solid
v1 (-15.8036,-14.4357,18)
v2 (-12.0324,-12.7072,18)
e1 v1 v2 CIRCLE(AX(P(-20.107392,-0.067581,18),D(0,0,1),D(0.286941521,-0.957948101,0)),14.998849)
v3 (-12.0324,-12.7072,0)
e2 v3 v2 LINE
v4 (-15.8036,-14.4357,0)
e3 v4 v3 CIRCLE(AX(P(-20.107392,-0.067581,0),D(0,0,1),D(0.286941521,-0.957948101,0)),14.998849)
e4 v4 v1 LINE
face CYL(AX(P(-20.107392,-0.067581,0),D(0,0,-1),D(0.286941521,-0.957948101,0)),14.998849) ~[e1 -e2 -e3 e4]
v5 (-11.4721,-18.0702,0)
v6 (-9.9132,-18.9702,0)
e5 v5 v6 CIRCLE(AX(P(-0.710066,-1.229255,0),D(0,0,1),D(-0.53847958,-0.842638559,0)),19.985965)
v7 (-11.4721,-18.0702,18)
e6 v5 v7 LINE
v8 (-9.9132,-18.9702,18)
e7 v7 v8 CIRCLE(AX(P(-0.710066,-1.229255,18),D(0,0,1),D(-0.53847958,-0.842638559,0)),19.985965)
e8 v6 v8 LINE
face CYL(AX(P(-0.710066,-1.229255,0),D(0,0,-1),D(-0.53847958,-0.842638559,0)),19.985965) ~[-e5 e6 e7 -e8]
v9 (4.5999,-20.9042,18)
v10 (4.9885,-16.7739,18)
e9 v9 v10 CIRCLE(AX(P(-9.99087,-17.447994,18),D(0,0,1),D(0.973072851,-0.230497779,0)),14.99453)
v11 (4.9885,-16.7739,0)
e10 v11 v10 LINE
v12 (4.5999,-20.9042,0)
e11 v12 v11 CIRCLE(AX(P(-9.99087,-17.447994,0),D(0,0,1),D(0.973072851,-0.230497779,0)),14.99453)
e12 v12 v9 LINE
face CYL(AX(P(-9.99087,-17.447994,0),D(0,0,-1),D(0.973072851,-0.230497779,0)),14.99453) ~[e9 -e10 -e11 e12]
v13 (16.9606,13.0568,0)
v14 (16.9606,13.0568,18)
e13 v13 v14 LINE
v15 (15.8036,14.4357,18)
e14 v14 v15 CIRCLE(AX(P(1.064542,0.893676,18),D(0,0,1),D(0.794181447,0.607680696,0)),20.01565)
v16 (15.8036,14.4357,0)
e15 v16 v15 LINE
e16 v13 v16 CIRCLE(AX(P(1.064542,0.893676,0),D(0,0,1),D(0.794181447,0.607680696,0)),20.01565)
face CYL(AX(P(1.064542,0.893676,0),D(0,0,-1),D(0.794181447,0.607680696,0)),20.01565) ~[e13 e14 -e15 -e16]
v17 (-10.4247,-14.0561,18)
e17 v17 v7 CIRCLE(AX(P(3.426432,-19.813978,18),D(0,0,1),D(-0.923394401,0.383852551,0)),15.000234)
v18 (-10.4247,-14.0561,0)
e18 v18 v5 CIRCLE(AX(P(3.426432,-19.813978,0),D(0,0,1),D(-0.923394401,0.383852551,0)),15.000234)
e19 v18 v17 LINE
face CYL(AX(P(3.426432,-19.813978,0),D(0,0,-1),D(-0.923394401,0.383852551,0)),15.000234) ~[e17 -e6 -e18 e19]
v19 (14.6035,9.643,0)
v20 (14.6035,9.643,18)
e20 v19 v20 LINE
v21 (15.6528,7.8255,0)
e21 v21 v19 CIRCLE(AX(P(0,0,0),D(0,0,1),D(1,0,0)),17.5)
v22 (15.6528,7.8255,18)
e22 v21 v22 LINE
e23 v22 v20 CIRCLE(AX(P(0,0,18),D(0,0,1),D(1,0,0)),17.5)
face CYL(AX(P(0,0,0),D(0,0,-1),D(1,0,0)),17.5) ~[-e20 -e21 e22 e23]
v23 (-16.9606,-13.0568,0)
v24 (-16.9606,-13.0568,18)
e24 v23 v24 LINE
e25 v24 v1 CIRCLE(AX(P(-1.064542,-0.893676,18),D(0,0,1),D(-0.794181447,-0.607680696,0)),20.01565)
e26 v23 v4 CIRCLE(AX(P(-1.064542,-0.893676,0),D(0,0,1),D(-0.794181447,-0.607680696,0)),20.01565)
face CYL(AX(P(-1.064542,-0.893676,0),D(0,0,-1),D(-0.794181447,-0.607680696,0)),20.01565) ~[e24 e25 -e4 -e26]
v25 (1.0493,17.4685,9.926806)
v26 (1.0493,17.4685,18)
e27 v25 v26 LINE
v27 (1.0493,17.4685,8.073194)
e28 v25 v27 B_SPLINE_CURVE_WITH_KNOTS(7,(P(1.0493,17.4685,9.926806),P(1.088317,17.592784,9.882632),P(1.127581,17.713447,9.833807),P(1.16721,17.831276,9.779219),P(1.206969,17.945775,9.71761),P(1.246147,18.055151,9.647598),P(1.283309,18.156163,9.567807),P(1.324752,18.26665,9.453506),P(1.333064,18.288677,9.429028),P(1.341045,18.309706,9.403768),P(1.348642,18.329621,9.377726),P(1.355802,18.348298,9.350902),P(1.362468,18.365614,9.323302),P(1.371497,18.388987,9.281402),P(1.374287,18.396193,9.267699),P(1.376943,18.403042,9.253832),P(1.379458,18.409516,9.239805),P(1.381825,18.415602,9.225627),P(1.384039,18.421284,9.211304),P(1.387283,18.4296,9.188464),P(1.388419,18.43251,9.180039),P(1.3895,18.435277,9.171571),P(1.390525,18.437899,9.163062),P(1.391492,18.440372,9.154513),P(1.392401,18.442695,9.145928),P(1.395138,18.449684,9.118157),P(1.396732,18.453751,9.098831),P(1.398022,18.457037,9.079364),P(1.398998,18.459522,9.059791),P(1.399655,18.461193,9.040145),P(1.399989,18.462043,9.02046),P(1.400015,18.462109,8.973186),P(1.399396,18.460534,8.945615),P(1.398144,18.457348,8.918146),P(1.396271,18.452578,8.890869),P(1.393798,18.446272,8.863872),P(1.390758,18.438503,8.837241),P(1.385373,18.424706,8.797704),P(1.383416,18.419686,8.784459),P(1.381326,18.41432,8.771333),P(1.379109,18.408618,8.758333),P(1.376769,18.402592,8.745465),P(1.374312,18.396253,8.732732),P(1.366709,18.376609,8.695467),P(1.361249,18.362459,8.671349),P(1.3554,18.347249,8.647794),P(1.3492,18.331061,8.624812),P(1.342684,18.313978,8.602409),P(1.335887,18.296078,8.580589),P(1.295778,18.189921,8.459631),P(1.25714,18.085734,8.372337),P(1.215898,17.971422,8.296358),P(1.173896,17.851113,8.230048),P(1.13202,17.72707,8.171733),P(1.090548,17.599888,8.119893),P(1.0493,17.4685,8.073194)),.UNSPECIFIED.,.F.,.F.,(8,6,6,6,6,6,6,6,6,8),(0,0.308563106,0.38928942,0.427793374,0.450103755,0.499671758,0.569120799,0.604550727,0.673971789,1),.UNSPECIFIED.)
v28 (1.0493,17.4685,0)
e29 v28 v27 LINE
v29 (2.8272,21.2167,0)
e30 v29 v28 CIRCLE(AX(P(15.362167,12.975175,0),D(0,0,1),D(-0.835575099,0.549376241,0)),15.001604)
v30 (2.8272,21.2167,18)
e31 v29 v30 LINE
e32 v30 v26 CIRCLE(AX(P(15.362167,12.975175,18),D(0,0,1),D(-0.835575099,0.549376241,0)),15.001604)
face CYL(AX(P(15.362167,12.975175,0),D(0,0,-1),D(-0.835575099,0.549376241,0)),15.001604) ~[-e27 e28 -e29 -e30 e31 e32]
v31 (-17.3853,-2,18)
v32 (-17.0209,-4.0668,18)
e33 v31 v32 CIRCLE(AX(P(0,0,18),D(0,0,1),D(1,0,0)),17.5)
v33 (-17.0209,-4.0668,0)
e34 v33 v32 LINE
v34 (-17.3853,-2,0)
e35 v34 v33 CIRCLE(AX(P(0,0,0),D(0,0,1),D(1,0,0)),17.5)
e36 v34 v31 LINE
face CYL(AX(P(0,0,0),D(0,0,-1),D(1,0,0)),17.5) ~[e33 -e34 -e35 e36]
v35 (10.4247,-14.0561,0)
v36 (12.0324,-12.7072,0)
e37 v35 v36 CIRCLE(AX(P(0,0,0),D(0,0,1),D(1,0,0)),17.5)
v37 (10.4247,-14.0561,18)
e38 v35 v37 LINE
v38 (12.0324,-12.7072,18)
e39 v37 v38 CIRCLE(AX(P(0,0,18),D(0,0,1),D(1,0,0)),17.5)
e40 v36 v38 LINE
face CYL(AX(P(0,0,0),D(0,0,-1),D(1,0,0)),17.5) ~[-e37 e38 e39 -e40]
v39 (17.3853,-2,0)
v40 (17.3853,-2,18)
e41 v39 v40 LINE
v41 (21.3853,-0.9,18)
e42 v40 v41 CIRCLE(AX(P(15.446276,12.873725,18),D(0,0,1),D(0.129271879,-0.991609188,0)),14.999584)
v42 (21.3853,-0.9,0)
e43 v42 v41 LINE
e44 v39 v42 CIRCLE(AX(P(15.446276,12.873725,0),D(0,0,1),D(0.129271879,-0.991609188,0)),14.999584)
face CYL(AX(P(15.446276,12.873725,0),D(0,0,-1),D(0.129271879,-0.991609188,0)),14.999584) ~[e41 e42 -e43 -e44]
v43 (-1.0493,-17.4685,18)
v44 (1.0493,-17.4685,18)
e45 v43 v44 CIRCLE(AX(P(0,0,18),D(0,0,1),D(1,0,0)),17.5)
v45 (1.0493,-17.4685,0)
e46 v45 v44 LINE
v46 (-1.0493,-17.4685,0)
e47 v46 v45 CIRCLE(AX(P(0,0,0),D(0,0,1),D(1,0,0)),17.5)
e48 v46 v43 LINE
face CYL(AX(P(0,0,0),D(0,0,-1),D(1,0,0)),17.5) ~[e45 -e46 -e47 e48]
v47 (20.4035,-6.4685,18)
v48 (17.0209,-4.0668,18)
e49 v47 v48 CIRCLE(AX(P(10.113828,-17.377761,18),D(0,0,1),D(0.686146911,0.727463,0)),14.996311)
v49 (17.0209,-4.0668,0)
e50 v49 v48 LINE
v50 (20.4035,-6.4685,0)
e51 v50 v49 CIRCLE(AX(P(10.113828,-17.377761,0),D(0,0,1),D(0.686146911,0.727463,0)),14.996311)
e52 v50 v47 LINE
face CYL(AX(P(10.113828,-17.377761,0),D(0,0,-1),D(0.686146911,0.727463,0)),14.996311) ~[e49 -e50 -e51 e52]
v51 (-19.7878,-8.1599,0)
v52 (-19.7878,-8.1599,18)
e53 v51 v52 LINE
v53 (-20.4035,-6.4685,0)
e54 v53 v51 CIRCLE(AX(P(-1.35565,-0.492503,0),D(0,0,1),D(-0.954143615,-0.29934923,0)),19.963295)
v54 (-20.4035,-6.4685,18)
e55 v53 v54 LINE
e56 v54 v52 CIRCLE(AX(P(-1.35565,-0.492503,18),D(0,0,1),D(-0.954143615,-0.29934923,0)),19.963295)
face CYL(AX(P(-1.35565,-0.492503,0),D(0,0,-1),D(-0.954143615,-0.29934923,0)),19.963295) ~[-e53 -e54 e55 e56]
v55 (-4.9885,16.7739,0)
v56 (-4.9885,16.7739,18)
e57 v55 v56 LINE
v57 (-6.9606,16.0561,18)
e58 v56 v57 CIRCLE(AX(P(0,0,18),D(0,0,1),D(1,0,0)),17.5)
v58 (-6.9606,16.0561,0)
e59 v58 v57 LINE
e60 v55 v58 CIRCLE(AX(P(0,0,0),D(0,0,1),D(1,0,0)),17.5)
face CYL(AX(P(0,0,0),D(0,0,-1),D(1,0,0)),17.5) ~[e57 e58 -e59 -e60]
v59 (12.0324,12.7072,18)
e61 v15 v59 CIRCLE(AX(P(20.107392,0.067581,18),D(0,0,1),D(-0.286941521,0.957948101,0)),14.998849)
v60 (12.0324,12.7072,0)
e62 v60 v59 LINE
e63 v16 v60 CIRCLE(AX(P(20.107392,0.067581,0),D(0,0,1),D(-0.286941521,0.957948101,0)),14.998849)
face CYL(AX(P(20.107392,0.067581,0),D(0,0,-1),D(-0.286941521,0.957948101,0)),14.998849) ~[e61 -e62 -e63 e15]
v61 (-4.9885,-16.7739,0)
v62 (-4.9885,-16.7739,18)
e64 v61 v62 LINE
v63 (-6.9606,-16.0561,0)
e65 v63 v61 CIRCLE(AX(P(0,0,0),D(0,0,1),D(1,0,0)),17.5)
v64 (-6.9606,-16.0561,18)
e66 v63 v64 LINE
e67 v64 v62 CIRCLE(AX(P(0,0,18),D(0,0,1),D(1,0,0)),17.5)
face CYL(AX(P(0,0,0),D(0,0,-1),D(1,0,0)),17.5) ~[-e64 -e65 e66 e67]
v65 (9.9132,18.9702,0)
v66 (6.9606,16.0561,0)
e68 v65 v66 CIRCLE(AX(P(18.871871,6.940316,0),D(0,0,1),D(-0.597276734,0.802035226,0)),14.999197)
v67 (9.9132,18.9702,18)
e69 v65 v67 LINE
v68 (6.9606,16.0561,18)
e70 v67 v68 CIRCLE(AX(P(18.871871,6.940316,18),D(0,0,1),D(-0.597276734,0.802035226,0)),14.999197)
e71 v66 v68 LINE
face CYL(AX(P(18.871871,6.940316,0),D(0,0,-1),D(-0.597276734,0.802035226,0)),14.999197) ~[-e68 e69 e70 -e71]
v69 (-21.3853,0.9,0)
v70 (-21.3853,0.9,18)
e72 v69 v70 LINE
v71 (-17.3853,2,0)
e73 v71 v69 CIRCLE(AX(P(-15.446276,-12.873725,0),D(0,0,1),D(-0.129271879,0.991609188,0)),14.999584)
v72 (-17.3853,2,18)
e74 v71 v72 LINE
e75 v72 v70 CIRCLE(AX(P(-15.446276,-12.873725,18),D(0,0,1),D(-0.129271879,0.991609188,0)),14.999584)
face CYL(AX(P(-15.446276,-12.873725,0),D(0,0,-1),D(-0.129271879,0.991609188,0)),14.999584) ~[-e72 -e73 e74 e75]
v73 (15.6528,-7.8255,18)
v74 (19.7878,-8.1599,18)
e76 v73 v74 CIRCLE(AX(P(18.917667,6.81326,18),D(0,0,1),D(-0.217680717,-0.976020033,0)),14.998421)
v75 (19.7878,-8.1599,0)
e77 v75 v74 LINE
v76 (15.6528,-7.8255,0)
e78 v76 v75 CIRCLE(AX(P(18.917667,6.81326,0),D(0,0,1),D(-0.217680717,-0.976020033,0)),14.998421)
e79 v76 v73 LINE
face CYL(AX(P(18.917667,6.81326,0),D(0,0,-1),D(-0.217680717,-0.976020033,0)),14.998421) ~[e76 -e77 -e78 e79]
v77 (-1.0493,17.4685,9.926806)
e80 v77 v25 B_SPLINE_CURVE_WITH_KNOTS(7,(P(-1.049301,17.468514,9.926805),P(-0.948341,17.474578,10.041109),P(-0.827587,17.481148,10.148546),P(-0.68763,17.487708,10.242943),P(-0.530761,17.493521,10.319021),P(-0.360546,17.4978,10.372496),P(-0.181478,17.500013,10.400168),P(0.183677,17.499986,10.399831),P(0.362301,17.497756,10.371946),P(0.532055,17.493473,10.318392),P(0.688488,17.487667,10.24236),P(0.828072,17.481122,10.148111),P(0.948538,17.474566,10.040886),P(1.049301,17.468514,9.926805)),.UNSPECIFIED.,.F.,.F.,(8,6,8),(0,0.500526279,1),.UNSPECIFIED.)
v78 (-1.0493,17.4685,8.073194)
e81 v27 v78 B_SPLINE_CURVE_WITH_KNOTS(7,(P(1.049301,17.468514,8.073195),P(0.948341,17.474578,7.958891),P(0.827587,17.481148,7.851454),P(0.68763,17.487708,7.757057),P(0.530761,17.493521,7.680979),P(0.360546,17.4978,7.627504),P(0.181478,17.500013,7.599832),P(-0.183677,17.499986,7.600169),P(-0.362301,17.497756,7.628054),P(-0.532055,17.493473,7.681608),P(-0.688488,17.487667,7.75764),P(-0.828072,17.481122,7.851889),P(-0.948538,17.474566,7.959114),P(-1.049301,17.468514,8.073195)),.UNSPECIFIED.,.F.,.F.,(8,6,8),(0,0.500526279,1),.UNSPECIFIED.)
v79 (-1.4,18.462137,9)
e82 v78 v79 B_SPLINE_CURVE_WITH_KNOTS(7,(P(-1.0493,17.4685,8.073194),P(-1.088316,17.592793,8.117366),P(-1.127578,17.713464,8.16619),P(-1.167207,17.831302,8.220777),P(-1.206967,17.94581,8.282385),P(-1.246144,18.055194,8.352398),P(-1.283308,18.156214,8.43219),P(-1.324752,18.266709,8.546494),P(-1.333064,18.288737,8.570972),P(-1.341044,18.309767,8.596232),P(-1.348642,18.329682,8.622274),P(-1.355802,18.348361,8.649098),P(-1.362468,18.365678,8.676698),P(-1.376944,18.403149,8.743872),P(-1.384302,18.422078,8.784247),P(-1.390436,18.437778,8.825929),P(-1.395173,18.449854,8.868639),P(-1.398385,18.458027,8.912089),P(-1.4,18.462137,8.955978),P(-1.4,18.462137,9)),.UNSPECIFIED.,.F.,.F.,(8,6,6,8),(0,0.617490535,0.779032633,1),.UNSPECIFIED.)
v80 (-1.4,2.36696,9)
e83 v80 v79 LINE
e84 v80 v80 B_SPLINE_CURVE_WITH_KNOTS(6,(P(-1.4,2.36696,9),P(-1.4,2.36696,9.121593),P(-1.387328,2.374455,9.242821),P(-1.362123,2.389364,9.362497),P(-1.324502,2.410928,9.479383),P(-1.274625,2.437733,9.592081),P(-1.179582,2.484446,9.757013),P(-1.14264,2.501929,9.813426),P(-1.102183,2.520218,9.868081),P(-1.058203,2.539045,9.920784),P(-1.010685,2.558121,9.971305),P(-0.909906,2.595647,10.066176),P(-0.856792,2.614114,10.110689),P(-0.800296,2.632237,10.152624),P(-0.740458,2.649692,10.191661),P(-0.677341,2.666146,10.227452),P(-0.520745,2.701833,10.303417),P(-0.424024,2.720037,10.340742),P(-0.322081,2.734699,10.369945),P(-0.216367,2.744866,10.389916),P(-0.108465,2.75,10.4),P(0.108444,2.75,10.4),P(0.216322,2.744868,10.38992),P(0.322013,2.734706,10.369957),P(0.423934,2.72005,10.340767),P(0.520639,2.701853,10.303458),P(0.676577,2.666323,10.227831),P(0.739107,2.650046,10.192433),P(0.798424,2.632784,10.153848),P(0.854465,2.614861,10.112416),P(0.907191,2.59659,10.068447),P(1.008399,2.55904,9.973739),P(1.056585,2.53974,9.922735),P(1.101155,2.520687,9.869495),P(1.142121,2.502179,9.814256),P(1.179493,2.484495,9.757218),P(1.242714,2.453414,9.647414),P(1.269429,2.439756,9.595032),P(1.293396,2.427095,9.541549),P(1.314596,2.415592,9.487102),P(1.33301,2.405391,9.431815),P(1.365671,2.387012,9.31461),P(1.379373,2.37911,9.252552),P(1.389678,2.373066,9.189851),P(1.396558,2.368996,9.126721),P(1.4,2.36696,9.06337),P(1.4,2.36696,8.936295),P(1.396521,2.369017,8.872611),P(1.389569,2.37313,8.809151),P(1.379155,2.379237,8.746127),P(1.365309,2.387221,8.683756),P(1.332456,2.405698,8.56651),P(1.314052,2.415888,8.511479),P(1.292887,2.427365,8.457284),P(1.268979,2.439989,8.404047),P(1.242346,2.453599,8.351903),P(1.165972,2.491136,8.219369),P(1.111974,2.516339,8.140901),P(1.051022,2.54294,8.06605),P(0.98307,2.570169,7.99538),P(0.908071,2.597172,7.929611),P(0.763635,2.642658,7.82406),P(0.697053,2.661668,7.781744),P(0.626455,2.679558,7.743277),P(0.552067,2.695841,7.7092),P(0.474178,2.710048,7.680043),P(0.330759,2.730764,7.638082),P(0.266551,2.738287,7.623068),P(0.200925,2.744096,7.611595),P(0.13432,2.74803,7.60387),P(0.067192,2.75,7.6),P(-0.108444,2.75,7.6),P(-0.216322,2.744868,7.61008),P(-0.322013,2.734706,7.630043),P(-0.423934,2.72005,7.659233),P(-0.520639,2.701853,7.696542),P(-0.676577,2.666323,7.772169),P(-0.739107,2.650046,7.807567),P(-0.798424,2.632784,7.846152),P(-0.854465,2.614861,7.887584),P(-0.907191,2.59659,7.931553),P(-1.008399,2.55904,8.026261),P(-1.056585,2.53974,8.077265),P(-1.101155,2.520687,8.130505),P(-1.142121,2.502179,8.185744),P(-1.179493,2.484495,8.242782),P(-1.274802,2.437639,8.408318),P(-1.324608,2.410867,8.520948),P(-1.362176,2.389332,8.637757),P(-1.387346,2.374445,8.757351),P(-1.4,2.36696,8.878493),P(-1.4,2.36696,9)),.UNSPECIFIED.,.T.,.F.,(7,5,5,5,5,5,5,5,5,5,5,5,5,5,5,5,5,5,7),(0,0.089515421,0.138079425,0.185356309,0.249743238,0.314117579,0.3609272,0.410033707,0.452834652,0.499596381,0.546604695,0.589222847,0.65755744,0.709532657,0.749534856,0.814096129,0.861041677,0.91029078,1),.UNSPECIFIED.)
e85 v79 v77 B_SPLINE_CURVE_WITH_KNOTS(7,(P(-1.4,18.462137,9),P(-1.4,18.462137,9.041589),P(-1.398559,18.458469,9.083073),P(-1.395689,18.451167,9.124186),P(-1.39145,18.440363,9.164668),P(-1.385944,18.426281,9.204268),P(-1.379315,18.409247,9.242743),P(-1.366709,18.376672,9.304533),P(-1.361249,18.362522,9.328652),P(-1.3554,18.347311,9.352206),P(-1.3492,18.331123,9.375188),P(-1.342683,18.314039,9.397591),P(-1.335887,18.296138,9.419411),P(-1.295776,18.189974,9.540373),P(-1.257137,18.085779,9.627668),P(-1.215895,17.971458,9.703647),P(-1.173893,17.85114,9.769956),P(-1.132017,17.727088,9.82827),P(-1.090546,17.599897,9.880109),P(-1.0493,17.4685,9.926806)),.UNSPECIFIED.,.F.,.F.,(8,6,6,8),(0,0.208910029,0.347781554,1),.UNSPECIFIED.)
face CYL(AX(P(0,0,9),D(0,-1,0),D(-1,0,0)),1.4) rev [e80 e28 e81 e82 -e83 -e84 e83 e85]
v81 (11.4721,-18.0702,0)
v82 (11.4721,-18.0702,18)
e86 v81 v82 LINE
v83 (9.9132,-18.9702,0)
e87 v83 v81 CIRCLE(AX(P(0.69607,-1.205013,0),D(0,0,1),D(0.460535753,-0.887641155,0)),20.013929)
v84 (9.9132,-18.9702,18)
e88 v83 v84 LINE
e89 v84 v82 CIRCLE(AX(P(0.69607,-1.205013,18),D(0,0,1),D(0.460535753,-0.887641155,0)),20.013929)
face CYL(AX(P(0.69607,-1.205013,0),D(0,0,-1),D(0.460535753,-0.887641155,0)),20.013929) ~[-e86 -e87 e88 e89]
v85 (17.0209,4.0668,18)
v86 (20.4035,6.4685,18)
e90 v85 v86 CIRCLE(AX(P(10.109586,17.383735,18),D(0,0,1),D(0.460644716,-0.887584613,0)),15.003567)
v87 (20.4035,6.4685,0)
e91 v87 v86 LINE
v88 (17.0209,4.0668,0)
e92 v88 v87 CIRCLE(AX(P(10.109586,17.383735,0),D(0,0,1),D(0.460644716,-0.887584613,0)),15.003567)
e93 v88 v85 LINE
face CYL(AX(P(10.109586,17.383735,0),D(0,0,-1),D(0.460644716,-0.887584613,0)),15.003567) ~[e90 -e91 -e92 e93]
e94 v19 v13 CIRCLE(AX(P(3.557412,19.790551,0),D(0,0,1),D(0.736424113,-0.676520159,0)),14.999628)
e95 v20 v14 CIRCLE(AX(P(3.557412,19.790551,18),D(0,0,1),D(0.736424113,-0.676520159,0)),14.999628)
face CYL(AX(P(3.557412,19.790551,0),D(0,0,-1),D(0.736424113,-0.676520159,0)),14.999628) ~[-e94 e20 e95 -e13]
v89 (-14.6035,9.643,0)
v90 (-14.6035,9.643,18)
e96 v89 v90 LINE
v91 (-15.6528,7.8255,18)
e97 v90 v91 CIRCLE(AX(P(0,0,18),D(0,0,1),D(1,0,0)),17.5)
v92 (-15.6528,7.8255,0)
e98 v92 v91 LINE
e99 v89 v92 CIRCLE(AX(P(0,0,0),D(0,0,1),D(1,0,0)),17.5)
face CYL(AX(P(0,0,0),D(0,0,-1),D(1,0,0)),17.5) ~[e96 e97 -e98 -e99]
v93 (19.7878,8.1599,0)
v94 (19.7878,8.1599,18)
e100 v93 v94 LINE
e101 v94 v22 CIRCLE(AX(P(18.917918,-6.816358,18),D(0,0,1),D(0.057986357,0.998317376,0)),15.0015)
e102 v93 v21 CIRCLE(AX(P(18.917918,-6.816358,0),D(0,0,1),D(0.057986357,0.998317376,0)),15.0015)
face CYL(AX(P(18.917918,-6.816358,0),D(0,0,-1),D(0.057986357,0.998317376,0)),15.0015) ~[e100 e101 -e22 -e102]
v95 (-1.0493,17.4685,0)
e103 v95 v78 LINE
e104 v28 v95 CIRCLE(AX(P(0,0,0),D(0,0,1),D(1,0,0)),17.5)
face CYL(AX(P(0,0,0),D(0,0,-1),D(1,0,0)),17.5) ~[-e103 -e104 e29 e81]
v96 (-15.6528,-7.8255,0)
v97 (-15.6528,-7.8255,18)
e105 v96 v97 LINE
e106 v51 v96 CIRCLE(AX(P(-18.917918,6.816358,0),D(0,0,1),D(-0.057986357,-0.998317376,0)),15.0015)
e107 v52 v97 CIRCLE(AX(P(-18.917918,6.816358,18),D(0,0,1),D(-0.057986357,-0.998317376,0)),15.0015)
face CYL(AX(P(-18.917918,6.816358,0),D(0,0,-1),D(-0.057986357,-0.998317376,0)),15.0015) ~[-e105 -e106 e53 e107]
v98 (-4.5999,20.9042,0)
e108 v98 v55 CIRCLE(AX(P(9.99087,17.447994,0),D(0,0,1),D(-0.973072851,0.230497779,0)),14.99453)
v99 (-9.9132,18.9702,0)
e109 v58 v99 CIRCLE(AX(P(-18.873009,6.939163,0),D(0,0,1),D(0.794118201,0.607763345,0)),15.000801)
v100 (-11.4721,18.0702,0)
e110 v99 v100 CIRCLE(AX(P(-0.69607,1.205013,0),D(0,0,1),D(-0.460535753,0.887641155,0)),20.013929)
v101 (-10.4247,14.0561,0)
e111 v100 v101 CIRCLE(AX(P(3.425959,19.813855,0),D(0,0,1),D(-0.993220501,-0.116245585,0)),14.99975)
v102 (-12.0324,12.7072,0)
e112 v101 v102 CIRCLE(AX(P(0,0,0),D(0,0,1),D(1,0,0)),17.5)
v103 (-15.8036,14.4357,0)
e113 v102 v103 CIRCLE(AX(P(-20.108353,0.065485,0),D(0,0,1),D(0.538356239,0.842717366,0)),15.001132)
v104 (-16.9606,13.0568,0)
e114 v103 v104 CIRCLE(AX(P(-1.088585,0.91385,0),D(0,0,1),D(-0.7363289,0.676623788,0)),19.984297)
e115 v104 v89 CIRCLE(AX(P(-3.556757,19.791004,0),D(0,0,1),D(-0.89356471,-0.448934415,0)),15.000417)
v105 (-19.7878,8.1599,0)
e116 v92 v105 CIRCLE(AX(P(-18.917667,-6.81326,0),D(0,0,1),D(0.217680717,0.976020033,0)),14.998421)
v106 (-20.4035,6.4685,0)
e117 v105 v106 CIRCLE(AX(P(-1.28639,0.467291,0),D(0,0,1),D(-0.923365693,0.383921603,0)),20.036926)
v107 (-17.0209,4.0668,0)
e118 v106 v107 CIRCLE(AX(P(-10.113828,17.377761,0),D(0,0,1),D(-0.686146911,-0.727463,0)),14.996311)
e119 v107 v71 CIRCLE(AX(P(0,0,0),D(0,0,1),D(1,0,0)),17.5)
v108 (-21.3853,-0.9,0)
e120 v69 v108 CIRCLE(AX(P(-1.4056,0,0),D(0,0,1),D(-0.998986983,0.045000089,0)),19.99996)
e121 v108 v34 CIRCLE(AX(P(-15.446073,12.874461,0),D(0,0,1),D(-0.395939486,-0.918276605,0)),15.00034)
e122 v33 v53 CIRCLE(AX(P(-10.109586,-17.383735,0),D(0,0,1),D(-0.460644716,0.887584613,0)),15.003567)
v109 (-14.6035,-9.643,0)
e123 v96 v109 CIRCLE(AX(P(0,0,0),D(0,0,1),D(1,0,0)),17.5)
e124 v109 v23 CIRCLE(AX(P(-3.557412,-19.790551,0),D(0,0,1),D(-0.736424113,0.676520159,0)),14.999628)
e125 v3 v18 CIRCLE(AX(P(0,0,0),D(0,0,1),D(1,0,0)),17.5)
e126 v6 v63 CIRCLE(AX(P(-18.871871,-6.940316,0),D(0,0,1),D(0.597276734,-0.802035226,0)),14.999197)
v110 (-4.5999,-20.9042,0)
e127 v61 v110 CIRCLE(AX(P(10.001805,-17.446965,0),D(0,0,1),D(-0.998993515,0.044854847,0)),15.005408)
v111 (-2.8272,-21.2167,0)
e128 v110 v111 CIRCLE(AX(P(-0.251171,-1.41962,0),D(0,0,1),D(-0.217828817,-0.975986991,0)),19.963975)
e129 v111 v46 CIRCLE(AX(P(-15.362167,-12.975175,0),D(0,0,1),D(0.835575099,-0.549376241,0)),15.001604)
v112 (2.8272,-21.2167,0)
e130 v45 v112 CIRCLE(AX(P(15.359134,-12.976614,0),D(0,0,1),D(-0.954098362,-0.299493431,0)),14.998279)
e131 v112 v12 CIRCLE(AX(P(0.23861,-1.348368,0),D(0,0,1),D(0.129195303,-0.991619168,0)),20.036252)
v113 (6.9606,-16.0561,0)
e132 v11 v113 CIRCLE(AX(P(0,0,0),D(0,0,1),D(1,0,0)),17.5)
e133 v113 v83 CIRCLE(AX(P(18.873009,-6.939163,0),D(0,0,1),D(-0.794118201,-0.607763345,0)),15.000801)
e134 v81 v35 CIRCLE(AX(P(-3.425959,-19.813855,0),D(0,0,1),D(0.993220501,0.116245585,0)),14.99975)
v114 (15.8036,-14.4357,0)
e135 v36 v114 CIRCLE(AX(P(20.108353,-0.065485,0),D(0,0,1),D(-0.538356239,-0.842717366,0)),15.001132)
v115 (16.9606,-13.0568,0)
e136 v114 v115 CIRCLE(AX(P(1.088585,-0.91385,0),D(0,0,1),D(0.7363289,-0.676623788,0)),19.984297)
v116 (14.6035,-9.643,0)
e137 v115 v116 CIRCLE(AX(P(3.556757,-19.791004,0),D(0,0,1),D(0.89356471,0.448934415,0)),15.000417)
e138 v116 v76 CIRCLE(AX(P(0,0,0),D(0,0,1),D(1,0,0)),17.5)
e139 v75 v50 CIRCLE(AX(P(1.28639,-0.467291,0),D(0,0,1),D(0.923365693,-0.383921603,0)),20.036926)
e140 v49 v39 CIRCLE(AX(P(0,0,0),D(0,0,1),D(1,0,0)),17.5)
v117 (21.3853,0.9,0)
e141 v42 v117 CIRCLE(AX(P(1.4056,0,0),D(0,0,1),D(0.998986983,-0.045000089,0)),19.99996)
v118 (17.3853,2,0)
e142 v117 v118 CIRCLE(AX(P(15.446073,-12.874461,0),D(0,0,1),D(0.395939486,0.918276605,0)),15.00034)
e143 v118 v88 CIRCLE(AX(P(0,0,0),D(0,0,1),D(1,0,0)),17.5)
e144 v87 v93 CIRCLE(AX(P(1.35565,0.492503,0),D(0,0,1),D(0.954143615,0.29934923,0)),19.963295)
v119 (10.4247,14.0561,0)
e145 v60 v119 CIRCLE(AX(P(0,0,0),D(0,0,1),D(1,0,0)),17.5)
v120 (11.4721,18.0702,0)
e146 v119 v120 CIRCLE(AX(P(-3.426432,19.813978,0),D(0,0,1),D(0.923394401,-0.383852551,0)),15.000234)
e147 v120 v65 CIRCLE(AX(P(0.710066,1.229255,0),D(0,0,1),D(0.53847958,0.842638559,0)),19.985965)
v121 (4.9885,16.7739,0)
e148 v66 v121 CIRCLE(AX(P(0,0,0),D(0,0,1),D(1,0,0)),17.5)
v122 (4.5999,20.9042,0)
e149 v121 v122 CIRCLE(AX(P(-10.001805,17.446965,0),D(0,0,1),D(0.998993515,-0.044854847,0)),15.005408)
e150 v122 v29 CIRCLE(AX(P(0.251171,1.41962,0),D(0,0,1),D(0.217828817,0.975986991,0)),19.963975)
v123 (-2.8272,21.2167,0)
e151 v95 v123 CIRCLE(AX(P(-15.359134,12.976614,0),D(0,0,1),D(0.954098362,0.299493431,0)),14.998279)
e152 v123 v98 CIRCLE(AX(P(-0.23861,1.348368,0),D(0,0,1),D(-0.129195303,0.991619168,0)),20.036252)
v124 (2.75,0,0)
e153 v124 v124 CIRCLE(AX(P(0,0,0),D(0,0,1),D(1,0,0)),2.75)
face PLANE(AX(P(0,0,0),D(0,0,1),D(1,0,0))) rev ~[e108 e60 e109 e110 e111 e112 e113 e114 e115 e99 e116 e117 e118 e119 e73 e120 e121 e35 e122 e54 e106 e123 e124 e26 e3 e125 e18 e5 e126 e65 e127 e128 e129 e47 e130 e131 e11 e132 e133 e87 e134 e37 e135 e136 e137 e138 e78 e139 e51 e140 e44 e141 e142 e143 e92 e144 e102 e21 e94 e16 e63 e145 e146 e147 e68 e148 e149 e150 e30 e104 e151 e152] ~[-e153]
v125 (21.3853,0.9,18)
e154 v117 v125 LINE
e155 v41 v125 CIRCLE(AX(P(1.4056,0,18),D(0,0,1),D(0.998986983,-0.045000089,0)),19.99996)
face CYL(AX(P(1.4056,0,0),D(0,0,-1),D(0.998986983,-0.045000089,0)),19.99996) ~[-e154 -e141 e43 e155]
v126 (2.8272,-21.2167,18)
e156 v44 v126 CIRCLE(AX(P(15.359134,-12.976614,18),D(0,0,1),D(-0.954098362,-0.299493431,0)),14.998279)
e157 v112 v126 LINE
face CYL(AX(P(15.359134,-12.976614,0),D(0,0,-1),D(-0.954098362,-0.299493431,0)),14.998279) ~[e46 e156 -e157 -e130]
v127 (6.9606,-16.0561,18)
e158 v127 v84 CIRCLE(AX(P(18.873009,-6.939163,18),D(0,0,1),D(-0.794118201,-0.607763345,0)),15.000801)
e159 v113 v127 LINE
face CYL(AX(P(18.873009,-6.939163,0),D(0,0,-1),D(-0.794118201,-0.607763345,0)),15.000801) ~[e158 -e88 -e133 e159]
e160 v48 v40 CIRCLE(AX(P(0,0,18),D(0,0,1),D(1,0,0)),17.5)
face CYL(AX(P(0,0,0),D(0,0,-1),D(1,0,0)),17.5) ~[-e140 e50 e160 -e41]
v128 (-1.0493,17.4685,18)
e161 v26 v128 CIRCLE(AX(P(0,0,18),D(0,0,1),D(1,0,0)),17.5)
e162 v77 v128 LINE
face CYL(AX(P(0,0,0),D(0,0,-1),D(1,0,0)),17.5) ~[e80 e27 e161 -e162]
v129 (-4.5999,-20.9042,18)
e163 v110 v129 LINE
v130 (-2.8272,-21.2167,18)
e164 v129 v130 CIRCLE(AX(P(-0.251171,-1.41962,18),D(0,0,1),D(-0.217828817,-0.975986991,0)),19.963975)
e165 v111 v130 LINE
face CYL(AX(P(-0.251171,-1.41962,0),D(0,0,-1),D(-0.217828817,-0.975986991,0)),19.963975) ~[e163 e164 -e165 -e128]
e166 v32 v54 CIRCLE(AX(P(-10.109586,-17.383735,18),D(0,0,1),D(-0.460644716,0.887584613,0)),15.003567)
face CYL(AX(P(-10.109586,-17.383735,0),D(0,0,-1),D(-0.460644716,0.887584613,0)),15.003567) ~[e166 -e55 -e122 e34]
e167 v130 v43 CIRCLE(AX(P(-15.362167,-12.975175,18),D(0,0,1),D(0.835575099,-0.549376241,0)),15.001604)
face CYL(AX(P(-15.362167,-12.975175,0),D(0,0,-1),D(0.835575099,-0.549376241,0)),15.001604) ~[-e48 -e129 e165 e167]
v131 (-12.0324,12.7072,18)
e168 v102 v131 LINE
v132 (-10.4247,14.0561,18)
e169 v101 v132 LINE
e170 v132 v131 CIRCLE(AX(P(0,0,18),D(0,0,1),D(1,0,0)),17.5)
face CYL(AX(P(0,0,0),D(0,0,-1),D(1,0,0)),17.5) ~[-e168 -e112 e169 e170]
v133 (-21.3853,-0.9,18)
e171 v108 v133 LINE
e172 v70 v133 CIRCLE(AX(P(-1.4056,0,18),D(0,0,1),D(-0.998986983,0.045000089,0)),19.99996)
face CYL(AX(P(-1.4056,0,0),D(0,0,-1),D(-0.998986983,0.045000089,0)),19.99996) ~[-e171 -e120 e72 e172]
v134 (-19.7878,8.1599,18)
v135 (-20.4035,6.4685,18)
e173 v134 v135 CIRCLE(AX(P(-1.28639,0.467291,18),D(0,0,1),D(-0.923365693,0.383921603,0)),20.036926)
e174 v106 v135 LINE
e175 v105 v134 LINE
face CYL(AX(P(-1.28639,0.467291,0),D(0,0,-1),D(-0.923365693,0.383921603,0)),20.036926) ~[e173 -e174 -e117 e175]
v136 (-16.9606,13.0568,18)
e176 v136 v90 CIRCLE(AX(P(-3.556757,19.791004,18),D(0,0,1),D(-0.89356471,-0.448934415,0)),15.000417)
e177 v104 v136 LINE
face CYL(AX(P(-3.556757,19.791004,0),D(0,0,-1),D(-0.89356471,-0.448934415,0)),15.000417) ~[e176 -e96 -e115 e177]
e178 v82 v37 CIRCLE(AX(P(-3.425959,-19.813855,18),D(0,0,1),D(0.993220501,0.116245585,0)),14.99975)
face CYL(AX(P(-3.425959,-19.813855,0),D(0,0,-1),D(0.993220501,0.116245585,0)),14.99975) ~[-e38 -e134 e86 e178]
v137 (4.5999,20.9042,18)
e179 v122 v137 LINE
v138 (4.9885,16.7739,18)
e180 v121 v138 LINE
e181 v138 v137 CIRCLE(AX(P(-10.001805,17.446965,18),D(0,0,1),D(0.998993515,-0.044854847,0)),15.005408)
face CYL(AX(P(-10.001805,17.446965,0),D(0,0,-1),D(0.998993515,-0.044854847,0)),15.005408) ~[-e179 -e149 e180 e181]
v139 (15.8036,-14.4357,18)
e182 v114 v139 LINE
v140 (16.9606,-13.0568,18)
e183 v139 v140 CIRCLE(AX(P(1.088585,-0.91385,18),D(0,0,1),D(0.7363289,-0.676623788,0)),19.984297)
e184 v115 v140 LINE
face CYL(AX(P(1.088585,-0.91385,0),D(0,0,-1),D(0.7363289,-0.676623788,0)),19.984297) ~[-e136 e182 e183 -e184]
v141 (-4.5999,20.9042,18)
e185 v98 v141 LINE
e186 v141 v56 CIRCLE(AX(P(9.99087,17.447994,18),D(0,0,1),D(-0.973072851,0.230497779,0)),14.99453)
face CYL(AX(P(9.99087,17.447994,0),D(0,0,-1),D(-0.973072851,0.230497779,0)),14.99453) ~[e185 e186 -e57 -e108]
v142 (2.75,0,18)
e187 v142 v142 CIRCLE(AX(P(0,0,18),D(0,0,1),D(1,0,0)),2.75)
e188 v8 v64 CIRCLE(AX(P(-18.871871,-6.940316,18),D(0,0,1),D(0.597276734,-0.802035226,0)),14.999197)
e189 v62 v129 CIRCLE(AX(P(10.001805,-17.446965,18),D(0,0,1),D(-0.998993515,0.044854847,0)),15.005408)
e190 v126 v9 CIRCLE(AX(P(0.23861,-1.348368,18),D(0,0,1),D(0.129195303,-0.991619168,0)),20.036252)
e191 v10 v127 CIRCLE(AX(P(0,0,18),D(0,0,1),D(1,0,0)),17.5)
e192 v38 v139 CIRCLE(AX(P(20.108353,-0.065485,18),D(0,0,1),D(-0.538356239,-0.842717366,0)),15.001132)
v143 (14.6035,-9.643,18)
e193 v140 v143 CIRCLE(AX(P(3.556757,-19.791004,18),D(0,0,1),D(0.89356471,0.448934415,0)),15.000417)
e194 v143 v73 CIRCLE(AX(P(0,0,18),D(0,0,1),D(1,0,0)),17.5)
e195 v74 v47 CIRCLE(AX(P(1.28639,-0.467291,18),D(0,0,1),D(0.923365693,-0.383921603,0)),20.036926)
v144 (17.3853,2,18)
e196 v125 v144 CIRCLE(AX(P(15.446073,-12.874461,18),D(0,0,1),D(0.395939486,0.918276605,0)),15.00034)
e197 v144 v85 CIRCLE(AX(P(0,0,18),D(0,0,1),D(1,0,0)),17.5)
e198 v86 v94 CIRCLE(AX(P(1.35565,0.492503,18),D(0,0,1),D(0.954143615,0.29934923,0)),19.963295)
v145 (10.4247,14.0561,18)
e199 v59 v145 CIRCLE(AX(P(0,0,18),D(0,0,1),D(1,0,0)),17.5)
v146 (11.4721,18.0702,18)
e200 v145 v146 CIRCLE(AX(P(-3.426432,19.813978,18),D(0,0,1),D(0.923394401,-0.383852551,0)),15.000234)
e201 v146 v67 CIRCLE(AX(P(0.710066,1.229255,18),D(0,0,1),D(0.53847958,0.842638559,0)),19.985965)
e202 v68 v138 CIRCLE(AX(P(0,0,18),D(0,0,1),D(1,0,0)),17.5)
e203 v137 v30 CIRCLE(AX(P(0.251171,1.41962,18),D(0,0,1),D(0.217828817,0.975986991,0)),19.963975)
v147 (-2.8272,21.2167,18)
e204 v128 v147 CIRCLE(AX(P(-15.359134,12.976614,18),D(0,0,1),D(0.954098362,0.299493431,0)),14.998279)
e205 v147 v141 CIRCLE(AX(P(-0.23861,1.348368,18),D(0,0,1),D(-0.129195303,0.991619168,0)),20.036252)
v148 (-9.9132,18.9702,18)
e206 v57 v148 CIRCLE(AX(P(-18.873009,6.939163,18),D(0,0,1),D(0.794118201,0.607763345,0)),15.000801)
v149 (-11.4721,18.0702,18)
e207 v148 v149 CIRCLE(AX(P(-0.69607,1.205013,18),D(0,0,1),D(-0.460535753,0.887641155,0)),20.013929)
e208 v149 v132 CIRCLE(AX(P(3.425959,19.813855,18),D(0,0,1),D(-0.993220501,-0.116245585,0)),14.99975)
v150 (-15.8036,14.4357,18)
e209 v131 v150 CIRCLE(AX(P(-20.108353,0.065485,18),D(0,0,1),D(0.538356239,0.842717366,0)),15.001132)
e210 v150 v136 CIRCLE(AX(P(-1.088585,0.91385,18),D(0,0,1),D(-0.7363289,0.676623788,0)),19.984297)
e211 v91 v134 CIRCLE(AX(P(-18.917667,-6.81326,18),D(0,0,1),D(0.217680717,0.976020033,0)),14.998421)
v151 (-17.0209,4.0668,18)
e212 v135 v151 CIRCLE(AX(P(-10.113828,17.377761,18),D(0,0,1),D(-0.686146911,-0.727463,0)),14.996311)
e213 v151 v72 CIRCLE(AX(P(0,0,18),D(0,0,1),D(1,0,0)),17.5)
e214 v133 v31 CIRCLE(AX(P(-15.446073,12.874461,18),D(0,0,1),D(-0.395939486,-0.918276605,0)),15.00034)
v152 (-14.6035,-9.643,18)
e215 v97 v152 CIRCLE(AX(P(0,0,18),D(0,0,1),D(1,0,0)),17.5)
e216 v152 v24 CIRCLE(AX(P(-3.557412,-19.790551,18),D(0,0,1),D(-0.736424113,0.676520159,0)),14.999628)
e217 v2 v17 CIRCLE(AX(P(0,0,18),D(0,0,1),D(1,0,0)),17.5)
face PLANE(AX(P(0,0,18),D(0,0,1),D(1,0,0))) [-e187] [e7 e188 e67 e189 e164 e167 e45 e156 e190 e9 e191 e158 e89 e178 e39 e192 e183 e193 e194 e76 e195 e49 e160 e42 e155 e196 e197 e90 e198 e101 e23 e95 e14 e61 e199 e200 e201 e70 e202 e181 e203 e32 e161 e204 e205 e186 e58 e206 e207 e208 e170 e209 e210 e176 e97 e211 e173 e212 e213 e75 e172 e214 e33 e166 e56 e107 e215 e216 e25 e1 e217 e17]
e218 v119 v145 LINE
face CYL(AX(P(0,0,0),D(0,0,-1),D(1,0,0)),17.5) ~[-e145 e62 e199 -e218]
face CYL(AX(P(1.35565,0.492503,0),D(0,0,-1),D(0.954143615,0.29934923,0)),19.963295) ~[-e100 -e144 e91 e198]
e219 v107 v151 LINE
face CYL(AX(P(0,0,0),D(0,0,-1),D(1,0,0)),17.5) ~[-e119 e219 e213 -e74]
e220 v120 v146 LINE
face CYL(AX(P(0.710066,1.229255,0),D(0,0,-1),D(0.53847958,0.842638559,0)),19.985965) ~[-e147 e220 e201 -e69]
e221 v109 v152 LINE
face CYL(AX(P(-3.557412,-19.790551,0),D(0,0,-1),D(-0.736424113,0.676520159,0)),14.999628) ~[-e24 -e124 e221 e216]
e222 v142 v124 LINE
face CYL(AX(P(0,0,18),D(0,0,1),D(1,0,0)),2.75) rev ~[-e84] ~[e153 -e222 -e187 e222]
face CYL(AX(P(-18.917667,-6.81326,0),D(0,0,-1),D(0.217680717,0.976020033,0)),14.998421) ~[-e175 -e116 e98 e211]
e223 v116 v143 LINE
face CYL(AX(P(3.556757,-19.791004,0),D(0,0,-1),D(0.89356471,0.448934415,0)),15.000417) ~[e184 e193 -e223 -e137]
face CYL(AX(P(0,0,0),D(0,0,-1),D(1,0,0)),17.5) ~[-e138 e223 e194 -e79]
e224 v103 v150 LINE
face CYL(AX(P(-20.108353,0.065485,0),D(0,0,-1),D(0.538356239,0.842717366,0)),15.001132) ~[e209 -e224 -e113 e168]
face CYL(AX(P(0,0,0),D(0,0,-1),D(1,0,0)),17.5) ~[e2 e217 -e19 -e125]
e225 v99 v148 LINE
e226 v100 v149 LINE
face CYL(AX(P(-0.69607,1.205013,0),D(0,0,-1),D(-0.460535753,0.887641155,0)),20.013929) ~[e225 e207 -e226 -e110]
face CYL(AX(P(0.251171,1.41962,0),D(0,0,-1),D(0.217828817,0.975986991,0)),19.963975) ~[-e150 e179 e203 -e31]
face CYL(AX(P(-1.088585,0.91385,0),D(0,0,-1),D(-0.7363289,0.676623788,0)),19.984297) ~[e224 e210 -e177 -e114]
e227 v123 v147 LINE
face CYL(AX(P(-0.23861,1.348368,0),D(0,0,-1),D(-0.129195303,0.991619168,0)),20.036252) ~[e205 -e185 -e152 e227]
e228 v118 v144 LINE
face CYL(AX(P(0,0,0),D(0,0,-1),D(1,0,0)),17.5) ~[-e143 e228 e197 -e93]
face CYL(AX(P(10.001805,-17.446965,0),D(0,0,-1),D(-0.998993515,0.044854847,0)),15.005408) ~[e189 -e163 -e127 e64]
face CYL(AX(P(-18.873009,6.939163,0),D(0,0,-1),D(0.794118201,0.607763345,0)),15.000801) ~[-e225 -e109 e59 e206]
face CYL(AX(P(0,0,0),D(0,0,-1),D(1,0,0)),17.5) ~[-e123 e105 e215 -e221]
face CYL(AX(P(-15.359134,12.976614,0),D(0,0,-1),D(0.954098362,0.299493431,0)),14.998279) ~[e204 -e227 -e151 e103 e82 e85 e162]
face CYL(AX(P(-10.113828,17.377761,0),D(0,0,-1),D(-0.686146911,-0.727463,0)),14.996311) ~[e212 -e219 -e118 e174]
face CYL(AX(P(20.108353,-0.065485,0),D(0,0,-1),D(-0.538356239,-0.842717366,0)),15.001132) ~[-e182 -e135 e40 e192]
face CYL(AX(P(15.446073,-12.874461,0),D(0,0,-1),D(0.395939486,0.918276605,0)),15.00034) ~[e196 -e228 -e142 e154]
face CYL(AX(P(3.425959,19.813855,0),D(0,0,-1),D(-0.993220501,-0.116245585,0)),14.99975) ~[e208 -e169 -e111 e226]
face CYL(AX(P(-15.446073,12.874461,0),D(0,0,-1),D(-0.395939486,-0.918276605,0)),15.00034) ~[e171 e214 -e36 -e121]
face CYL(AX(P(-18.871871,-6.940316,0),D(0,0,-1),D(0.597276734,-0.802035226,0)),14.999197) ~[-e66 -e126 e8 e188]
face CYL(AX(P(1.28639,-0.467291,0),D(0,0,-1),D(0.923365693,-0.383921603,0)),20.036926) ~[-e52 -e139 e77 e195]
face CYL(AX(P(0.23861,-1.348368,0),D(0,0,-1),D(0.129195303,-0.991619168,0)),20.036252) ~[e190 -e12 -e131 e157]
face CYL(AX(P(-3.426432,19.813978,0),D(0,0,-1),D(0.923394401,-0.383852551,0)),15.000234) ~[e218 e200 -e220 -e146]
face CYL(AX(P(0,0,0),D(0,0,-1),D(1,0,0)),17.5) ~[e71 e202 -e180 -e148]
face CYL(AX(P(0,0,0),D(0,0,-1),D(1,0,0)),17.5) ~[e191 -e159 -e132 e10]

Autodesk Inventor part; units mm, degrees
ref_plane "YZ Plane" through (0, 0, 0) normal (1, 0, 0) x (0, 1, 0)
ref_plane "XZ Plane" through (0, 0, 0) normal (0, 1, 0) x (-1, 0, 0)
ref_plane "XY Plane" through (0, 0, 0) normal (0, 0, 1) x (1, 0, 0)
sketch "Sketch1" plane through (0, 0, 0) normal (0, 0, 1) x (1, 0, 0)
  circle A0 centre (0, 0) radius 17.5
  arc A1 (21.3853, 0.9) -> (17.3853, 2) centre (15.4462, -12.8741) ccw
  arc A2 (17.3853, -2) -> (21.3853, -0.9) centre (15.4462, 12.8741) ccw
  arc A3 (21.3853, -0.9) -> (21.3853, 0.9) centre (1.4056, 0) ccw
  line L0 (0, 0) -> (21.7354, 0) construction
  arc A4 (17.3853, -2) -> (17.3853, 2) centre (0, 0) ccw
  arc A5 (19.7878, 8.1599) -> (15.6528, 7.8255) centre (18.9179, -6.8148) ccw
  arc A6 (20.4035, 6.4685) -> (19.7878, 8.1599) centre (1.3208, 0.4807) ccw
  arc A7 (17.0209, 4.0668) -> (20.4035, 6.4685) centre (10.1115, 17.3806) ccw
  circle A8 centre (0, 0) radius 17.5
  arc A9 (17.0209, 4.0668) -> (15.6528, 7.8255) centre (0, 0) ccw
  arc A10 (15.8036, 14.4357) -> (12.0324, 12.7072) centre (20.1078, 0.0665) ccw
  arc A11 (16.9606, 13.0568) -> (15.8036, 14.4357) centre (1.0768, 0.9035) ccw
  arc A12 (14.6035, 9.643) -> (16.9606, 13.0568) centre (3.5571, 19.7908) ccw
  circle A13 centre (0, 0) radius 17.5
  arc A14 (14.6035, 9.643) -> (12.0324, 12.7072) centre (0, 0) ccw
  arc A15 (9.9132, 18.9702) -> (6.9606, 16.0561) centre (18.8724, 6.9397) ccw
  arc A16 (11.4721, 18.0702) -> (9.9132, 18.9702) centre (0.7028, 1.2173) ccw
  arc A17 (10.4247, 14.0561) -> (11.4721, 18.0702) centre (-3.4262, 19.8139) ccw
  circle A18 centre (0, 0) radius 17.5
  arc A19 (10.4247, 14.0561) -> (6.9606, 16.0561) centre (0, 0) ccw
  arc A20 (2.8272, 21.2167) -> (1.0493, 17.4685) centre (15.3607, 12.976) ccw
  arc A21 (4.5999, 20.9042) -> (2.8272, 21.2167) centre (0.2441, 1.3842) ccw
  arc A22 (4.9885, 16.7739) -> (4.5999, 20.9042) centre (-9.9963, 17.4471) ccw
  circle A23 centre (0, 0) radius 17.5
  arc A24 (4.9885, 16.7739) -> (1.0493, 17.4685) centre (0, 0) ccw
  arc A25 (-4.5999, 20.9042) -> (-4.9885, 16.7739) centre (9.9963, 17.4471) ccw
  arc A26 (-2.8272, 21.2167) -> (-4.5999, 20.9042) centre (-0.2441, 1.3842) ccw
  arc A27 (-1.0493, 17.4685) -> (-2.8272, 21.2167) centre (-15.3607, 12.976) ccw
  circle A28 centre (0, 0) radius 17.5
  arc A29 (-1.0493, 17.4685) -> (-4.9885, 16.7739) centre (0, 0) ccw
  arc A30 (-11.4721, 18.0702) -> (-10.4247, 14.0561) centre (3.4262, 19.8139) ccw
  arc A31 (-9.9132, 18.9702) -> (-11.4721, 18.0702) centre (-0.7028, 1.2173) ccw
  arc A32 (-6.9606, 16.0561) -> (-9.9132, 18.9702) centre (-18.8724, 6.9397) ccw
  circle A33 centre (0, 0) radius 17.5
  arc A34 (-6.9606, 16.0561) -> (-10.4247, 14.0561) centre (0, 0) ccw
  arc A35 (-16.9606, 13.0568) -> (-14.6035, 9.643) centre (-3.5571, 19.7908) ccw
  arc A36 (-15.8036, 14.4357) -> (-16.9606, 13.0568) centre (-1.0768, 0.9035) ccw
  arc A37 (-12.0324, 12.7072) -> (-15.8036, 14.4357) centre (-20.1078, 0.0665) ccw
  circle A38 centre (0, 0) radius 17.5
  arc A39 (-12.0324, 12.7072) -> (-14.6035, 9.643) centre (0, 0) ccw
  arc A40 (-20.4035, 6.4685) -> (-17.0209, 4.0668) centre (-10.1115, 17.3806) ccw
  arc A41 (-19.7878, 8.1599) -> (-20.4035, 6.4685) centre (-1.3208, 0.4807) ccw
  arc A42 (-15.6528, 7.8255) -> (-19.7878, 8.1599) centre (-18.9179, -6.8148) ccw
  circle A43 centre (0, 0) radius 17.5
  arc A44 (-15.6528, 7.8255) -> (-17.0209, 4.0668) centre (0, 0) ccw
  arc A45 (-21.3853, -0.9) -> (-17.3853, -2) centre (-15.4462, 12.8741) ccw
  arc A46 (-21.3853, 0.9) -> (-21.3853, -0.9) centre (-1.4056, 0) ccw
  arc A47 (-17.3853, 2) -> (-21.3853, 0.9) centre (-15.4462, -12.8741) ccw
  circle A48 centre (0, 0) radius 17.5
  arc A49 (-17.3853, 2) -> (-17.3853, -2) centre (0, 0) ccw
  arc A50 (-19.7878, -8.1599) -> (-15.6528, -7.8255) centre (-18.9179, 6.8148) ccw
  arc A51 (-20.4035, -6.4685) -> (-19.7878, -8.1599) centre (-1.3208, -0.4807) ccw
  arc A52 (-17.0209, -4.0668) -> (-20.4035, -6.4685) centre (-10.1115, -17.3806) ccw
  circle A53 centre (0, 0) radius 17.5
  arc A54 (-17.0209, -4.0668) -> (-15.6528, -7.8255) centre (0, 0) ccw
  arc A55 (-15.8036, -14.4357) -> (-12.0324, -12.7072) centre (-20.1078, -0.0665) ccw
  arc A56 (-16.9606, -13.0568) -> (-15.8036, -14.4357) centre (-1.0768, -0.9035) ccw
  arc A57 (-14.6035, -9.643) -> (-16.9606, -13.0568) centre (-3.5571, -19.7908) ccw
  circle A58 centre (0, 0) radius 17.5
  arc A59 (-14.6035, -9.643) -> (-12.0324, -12.7072) centre (0, 0) ccw
  arc A60 (-9.9132, -18.9702) -> (-6.9606, -16.0561) centre (-18.8724, -6.9397) ccw
  arc A61 (-11.4721, -18.0702) -> (-9.9132, -18.9702) centre (-0.7028, -1.2173) ccw
  arc A62 (-10.4247, -14.0561) -> (-11.4721, -18.0702) centre (3.4262, -19.8139) ccw
  circle A63 centre (0, 0) radius 17.5
  arc A64 (-10.4247, -14.0561) -> (-6.9606, -16.0561) centre (0, 0) ccw
  arc A65 (-2.8272, -21.2167) -> (-1.0493, -17.4685) centre (-15.3607, -12.976) ccw
  arc A66 (-4.5999, -20.9042) -> (-2.8272, -21.2167) centre (-0.2441, -1.3842) ccw
  arc A67 (-4.9885, -16.7739) -> (-4.5999, -20.9042) centre (9.9963, -17.4471) ccw
  circle A68 centre (0, 0) radius 17.5
  arc A69 (-4.9885, -16.7739) -> (-1.0493, -17.4685) centre (0, 0) ccw
  arc A70 (4.5999, -20.9042) -> (4.9885, -16.7739) centre (-9.9963, -17.4471) ccw
  arc A71 (2.8272, -21.2167) -> (4.5999, -20.9042) centre (0.2441, -1.3842) ccw
  arc A72 (1.0493, -17.4685) -> (2.8272, -21.2167) centre (15.3607, -12.976) ccw
  circle A73 centre (0, 0) radius 17.5
  arc A74 (1.0493, -17.4685) -> (4.9885, -16.7739) centre (0, 0) ccw
  arc A75 (11.4721, -18.0702) -> (10.4247, -14.0561) centre (-3.4262, -19.8139) ccw
  arc A76 (9.9132, -18.9702) -> (11.4721, -18.0702) centre (0.7028, -1.2173) ccw
  arc A77 (6.9606, -16.0561) -> (9.9132, -18.9702) centre (18.8724, -6.9397) ccw
  circle A78 centre (0, 0) radius 17.5
  arc A79 (6.9606, -16.0561) -> (10.4247, -14.0561) centre (0, 0) ccw
  arc A80 (16.9606, -13.0568) -> (14.6035, -9.643) centre (3.5571, -19.7908) ccw
  arc A81 (15.8036, -14.4357) -> (16.9606, -13.0568) centre (1.0768, -0.9035) ccw
  arc A82 (12.0324, -12.7072) -> (15.8036, -14.4357) centre (20.1078, -0.0665) ccw
  circle A83 centre (0, 0) radius 17.5
  arc A84 (12.0324, -12.7072) -> (14.6035, -9.643) centre (0, 0) ccw
  arc A85 (20.4035, -6.4685) -> (17.0209, -4.0668) centre (10.1115, -17.3806) ccw
  arc A86 (19.7878, -8.1599) -> (20.4035, -6.4685) centre (1.3208, -0.4807) ccw
  arc A87 (15.6528, -7.8255) -> (19.7878, -8.1599) centre (18.9179, 6.8148) ccw
  circle A88 centre (0, 0) radius 17.5
  arc A89 (15.6528, -7.8255) -> (17.0209, -4.0668) centre (0, 0) ccw
  dimension "d0" = 35
  dimension "d3" = 15
  dimension "d4" = 15
  dimension "d5" = 4
  dimension "d6" = 20
  dimension "d7" = 1.8
  dimension "d10" = 360
  dimension "d20" = 2
extrude "Extrusion1" add sketch "Sketch1" along normal blind 18
sketch "Sketch2" plane through (0, 0, 18) normal (0, 0, 1) x (1, 0, 0)
  circle A0 centre (0, 0) radius 2.75
  dimension "d14" = 5.5
extrude "Extrusion2" cut sketch "Sketch2" against normal through all
sketch "Sketch5" plane through (0, 0, 0) normal (0, 1, 0) x (-1, 0, 0)
  circle A0 centre (0, 9) radius 1.4
  line L0 (2.75, 18) -> (2.75, 0) projected
  point P0 (0, 0)
  point P1 (2.75, 9)
  dimension "d24" = 2.8
extrude "Extrusion5" cut sketch "Sketch5" along normal through all
properties part number "BA006" material "ABS Plastic"
